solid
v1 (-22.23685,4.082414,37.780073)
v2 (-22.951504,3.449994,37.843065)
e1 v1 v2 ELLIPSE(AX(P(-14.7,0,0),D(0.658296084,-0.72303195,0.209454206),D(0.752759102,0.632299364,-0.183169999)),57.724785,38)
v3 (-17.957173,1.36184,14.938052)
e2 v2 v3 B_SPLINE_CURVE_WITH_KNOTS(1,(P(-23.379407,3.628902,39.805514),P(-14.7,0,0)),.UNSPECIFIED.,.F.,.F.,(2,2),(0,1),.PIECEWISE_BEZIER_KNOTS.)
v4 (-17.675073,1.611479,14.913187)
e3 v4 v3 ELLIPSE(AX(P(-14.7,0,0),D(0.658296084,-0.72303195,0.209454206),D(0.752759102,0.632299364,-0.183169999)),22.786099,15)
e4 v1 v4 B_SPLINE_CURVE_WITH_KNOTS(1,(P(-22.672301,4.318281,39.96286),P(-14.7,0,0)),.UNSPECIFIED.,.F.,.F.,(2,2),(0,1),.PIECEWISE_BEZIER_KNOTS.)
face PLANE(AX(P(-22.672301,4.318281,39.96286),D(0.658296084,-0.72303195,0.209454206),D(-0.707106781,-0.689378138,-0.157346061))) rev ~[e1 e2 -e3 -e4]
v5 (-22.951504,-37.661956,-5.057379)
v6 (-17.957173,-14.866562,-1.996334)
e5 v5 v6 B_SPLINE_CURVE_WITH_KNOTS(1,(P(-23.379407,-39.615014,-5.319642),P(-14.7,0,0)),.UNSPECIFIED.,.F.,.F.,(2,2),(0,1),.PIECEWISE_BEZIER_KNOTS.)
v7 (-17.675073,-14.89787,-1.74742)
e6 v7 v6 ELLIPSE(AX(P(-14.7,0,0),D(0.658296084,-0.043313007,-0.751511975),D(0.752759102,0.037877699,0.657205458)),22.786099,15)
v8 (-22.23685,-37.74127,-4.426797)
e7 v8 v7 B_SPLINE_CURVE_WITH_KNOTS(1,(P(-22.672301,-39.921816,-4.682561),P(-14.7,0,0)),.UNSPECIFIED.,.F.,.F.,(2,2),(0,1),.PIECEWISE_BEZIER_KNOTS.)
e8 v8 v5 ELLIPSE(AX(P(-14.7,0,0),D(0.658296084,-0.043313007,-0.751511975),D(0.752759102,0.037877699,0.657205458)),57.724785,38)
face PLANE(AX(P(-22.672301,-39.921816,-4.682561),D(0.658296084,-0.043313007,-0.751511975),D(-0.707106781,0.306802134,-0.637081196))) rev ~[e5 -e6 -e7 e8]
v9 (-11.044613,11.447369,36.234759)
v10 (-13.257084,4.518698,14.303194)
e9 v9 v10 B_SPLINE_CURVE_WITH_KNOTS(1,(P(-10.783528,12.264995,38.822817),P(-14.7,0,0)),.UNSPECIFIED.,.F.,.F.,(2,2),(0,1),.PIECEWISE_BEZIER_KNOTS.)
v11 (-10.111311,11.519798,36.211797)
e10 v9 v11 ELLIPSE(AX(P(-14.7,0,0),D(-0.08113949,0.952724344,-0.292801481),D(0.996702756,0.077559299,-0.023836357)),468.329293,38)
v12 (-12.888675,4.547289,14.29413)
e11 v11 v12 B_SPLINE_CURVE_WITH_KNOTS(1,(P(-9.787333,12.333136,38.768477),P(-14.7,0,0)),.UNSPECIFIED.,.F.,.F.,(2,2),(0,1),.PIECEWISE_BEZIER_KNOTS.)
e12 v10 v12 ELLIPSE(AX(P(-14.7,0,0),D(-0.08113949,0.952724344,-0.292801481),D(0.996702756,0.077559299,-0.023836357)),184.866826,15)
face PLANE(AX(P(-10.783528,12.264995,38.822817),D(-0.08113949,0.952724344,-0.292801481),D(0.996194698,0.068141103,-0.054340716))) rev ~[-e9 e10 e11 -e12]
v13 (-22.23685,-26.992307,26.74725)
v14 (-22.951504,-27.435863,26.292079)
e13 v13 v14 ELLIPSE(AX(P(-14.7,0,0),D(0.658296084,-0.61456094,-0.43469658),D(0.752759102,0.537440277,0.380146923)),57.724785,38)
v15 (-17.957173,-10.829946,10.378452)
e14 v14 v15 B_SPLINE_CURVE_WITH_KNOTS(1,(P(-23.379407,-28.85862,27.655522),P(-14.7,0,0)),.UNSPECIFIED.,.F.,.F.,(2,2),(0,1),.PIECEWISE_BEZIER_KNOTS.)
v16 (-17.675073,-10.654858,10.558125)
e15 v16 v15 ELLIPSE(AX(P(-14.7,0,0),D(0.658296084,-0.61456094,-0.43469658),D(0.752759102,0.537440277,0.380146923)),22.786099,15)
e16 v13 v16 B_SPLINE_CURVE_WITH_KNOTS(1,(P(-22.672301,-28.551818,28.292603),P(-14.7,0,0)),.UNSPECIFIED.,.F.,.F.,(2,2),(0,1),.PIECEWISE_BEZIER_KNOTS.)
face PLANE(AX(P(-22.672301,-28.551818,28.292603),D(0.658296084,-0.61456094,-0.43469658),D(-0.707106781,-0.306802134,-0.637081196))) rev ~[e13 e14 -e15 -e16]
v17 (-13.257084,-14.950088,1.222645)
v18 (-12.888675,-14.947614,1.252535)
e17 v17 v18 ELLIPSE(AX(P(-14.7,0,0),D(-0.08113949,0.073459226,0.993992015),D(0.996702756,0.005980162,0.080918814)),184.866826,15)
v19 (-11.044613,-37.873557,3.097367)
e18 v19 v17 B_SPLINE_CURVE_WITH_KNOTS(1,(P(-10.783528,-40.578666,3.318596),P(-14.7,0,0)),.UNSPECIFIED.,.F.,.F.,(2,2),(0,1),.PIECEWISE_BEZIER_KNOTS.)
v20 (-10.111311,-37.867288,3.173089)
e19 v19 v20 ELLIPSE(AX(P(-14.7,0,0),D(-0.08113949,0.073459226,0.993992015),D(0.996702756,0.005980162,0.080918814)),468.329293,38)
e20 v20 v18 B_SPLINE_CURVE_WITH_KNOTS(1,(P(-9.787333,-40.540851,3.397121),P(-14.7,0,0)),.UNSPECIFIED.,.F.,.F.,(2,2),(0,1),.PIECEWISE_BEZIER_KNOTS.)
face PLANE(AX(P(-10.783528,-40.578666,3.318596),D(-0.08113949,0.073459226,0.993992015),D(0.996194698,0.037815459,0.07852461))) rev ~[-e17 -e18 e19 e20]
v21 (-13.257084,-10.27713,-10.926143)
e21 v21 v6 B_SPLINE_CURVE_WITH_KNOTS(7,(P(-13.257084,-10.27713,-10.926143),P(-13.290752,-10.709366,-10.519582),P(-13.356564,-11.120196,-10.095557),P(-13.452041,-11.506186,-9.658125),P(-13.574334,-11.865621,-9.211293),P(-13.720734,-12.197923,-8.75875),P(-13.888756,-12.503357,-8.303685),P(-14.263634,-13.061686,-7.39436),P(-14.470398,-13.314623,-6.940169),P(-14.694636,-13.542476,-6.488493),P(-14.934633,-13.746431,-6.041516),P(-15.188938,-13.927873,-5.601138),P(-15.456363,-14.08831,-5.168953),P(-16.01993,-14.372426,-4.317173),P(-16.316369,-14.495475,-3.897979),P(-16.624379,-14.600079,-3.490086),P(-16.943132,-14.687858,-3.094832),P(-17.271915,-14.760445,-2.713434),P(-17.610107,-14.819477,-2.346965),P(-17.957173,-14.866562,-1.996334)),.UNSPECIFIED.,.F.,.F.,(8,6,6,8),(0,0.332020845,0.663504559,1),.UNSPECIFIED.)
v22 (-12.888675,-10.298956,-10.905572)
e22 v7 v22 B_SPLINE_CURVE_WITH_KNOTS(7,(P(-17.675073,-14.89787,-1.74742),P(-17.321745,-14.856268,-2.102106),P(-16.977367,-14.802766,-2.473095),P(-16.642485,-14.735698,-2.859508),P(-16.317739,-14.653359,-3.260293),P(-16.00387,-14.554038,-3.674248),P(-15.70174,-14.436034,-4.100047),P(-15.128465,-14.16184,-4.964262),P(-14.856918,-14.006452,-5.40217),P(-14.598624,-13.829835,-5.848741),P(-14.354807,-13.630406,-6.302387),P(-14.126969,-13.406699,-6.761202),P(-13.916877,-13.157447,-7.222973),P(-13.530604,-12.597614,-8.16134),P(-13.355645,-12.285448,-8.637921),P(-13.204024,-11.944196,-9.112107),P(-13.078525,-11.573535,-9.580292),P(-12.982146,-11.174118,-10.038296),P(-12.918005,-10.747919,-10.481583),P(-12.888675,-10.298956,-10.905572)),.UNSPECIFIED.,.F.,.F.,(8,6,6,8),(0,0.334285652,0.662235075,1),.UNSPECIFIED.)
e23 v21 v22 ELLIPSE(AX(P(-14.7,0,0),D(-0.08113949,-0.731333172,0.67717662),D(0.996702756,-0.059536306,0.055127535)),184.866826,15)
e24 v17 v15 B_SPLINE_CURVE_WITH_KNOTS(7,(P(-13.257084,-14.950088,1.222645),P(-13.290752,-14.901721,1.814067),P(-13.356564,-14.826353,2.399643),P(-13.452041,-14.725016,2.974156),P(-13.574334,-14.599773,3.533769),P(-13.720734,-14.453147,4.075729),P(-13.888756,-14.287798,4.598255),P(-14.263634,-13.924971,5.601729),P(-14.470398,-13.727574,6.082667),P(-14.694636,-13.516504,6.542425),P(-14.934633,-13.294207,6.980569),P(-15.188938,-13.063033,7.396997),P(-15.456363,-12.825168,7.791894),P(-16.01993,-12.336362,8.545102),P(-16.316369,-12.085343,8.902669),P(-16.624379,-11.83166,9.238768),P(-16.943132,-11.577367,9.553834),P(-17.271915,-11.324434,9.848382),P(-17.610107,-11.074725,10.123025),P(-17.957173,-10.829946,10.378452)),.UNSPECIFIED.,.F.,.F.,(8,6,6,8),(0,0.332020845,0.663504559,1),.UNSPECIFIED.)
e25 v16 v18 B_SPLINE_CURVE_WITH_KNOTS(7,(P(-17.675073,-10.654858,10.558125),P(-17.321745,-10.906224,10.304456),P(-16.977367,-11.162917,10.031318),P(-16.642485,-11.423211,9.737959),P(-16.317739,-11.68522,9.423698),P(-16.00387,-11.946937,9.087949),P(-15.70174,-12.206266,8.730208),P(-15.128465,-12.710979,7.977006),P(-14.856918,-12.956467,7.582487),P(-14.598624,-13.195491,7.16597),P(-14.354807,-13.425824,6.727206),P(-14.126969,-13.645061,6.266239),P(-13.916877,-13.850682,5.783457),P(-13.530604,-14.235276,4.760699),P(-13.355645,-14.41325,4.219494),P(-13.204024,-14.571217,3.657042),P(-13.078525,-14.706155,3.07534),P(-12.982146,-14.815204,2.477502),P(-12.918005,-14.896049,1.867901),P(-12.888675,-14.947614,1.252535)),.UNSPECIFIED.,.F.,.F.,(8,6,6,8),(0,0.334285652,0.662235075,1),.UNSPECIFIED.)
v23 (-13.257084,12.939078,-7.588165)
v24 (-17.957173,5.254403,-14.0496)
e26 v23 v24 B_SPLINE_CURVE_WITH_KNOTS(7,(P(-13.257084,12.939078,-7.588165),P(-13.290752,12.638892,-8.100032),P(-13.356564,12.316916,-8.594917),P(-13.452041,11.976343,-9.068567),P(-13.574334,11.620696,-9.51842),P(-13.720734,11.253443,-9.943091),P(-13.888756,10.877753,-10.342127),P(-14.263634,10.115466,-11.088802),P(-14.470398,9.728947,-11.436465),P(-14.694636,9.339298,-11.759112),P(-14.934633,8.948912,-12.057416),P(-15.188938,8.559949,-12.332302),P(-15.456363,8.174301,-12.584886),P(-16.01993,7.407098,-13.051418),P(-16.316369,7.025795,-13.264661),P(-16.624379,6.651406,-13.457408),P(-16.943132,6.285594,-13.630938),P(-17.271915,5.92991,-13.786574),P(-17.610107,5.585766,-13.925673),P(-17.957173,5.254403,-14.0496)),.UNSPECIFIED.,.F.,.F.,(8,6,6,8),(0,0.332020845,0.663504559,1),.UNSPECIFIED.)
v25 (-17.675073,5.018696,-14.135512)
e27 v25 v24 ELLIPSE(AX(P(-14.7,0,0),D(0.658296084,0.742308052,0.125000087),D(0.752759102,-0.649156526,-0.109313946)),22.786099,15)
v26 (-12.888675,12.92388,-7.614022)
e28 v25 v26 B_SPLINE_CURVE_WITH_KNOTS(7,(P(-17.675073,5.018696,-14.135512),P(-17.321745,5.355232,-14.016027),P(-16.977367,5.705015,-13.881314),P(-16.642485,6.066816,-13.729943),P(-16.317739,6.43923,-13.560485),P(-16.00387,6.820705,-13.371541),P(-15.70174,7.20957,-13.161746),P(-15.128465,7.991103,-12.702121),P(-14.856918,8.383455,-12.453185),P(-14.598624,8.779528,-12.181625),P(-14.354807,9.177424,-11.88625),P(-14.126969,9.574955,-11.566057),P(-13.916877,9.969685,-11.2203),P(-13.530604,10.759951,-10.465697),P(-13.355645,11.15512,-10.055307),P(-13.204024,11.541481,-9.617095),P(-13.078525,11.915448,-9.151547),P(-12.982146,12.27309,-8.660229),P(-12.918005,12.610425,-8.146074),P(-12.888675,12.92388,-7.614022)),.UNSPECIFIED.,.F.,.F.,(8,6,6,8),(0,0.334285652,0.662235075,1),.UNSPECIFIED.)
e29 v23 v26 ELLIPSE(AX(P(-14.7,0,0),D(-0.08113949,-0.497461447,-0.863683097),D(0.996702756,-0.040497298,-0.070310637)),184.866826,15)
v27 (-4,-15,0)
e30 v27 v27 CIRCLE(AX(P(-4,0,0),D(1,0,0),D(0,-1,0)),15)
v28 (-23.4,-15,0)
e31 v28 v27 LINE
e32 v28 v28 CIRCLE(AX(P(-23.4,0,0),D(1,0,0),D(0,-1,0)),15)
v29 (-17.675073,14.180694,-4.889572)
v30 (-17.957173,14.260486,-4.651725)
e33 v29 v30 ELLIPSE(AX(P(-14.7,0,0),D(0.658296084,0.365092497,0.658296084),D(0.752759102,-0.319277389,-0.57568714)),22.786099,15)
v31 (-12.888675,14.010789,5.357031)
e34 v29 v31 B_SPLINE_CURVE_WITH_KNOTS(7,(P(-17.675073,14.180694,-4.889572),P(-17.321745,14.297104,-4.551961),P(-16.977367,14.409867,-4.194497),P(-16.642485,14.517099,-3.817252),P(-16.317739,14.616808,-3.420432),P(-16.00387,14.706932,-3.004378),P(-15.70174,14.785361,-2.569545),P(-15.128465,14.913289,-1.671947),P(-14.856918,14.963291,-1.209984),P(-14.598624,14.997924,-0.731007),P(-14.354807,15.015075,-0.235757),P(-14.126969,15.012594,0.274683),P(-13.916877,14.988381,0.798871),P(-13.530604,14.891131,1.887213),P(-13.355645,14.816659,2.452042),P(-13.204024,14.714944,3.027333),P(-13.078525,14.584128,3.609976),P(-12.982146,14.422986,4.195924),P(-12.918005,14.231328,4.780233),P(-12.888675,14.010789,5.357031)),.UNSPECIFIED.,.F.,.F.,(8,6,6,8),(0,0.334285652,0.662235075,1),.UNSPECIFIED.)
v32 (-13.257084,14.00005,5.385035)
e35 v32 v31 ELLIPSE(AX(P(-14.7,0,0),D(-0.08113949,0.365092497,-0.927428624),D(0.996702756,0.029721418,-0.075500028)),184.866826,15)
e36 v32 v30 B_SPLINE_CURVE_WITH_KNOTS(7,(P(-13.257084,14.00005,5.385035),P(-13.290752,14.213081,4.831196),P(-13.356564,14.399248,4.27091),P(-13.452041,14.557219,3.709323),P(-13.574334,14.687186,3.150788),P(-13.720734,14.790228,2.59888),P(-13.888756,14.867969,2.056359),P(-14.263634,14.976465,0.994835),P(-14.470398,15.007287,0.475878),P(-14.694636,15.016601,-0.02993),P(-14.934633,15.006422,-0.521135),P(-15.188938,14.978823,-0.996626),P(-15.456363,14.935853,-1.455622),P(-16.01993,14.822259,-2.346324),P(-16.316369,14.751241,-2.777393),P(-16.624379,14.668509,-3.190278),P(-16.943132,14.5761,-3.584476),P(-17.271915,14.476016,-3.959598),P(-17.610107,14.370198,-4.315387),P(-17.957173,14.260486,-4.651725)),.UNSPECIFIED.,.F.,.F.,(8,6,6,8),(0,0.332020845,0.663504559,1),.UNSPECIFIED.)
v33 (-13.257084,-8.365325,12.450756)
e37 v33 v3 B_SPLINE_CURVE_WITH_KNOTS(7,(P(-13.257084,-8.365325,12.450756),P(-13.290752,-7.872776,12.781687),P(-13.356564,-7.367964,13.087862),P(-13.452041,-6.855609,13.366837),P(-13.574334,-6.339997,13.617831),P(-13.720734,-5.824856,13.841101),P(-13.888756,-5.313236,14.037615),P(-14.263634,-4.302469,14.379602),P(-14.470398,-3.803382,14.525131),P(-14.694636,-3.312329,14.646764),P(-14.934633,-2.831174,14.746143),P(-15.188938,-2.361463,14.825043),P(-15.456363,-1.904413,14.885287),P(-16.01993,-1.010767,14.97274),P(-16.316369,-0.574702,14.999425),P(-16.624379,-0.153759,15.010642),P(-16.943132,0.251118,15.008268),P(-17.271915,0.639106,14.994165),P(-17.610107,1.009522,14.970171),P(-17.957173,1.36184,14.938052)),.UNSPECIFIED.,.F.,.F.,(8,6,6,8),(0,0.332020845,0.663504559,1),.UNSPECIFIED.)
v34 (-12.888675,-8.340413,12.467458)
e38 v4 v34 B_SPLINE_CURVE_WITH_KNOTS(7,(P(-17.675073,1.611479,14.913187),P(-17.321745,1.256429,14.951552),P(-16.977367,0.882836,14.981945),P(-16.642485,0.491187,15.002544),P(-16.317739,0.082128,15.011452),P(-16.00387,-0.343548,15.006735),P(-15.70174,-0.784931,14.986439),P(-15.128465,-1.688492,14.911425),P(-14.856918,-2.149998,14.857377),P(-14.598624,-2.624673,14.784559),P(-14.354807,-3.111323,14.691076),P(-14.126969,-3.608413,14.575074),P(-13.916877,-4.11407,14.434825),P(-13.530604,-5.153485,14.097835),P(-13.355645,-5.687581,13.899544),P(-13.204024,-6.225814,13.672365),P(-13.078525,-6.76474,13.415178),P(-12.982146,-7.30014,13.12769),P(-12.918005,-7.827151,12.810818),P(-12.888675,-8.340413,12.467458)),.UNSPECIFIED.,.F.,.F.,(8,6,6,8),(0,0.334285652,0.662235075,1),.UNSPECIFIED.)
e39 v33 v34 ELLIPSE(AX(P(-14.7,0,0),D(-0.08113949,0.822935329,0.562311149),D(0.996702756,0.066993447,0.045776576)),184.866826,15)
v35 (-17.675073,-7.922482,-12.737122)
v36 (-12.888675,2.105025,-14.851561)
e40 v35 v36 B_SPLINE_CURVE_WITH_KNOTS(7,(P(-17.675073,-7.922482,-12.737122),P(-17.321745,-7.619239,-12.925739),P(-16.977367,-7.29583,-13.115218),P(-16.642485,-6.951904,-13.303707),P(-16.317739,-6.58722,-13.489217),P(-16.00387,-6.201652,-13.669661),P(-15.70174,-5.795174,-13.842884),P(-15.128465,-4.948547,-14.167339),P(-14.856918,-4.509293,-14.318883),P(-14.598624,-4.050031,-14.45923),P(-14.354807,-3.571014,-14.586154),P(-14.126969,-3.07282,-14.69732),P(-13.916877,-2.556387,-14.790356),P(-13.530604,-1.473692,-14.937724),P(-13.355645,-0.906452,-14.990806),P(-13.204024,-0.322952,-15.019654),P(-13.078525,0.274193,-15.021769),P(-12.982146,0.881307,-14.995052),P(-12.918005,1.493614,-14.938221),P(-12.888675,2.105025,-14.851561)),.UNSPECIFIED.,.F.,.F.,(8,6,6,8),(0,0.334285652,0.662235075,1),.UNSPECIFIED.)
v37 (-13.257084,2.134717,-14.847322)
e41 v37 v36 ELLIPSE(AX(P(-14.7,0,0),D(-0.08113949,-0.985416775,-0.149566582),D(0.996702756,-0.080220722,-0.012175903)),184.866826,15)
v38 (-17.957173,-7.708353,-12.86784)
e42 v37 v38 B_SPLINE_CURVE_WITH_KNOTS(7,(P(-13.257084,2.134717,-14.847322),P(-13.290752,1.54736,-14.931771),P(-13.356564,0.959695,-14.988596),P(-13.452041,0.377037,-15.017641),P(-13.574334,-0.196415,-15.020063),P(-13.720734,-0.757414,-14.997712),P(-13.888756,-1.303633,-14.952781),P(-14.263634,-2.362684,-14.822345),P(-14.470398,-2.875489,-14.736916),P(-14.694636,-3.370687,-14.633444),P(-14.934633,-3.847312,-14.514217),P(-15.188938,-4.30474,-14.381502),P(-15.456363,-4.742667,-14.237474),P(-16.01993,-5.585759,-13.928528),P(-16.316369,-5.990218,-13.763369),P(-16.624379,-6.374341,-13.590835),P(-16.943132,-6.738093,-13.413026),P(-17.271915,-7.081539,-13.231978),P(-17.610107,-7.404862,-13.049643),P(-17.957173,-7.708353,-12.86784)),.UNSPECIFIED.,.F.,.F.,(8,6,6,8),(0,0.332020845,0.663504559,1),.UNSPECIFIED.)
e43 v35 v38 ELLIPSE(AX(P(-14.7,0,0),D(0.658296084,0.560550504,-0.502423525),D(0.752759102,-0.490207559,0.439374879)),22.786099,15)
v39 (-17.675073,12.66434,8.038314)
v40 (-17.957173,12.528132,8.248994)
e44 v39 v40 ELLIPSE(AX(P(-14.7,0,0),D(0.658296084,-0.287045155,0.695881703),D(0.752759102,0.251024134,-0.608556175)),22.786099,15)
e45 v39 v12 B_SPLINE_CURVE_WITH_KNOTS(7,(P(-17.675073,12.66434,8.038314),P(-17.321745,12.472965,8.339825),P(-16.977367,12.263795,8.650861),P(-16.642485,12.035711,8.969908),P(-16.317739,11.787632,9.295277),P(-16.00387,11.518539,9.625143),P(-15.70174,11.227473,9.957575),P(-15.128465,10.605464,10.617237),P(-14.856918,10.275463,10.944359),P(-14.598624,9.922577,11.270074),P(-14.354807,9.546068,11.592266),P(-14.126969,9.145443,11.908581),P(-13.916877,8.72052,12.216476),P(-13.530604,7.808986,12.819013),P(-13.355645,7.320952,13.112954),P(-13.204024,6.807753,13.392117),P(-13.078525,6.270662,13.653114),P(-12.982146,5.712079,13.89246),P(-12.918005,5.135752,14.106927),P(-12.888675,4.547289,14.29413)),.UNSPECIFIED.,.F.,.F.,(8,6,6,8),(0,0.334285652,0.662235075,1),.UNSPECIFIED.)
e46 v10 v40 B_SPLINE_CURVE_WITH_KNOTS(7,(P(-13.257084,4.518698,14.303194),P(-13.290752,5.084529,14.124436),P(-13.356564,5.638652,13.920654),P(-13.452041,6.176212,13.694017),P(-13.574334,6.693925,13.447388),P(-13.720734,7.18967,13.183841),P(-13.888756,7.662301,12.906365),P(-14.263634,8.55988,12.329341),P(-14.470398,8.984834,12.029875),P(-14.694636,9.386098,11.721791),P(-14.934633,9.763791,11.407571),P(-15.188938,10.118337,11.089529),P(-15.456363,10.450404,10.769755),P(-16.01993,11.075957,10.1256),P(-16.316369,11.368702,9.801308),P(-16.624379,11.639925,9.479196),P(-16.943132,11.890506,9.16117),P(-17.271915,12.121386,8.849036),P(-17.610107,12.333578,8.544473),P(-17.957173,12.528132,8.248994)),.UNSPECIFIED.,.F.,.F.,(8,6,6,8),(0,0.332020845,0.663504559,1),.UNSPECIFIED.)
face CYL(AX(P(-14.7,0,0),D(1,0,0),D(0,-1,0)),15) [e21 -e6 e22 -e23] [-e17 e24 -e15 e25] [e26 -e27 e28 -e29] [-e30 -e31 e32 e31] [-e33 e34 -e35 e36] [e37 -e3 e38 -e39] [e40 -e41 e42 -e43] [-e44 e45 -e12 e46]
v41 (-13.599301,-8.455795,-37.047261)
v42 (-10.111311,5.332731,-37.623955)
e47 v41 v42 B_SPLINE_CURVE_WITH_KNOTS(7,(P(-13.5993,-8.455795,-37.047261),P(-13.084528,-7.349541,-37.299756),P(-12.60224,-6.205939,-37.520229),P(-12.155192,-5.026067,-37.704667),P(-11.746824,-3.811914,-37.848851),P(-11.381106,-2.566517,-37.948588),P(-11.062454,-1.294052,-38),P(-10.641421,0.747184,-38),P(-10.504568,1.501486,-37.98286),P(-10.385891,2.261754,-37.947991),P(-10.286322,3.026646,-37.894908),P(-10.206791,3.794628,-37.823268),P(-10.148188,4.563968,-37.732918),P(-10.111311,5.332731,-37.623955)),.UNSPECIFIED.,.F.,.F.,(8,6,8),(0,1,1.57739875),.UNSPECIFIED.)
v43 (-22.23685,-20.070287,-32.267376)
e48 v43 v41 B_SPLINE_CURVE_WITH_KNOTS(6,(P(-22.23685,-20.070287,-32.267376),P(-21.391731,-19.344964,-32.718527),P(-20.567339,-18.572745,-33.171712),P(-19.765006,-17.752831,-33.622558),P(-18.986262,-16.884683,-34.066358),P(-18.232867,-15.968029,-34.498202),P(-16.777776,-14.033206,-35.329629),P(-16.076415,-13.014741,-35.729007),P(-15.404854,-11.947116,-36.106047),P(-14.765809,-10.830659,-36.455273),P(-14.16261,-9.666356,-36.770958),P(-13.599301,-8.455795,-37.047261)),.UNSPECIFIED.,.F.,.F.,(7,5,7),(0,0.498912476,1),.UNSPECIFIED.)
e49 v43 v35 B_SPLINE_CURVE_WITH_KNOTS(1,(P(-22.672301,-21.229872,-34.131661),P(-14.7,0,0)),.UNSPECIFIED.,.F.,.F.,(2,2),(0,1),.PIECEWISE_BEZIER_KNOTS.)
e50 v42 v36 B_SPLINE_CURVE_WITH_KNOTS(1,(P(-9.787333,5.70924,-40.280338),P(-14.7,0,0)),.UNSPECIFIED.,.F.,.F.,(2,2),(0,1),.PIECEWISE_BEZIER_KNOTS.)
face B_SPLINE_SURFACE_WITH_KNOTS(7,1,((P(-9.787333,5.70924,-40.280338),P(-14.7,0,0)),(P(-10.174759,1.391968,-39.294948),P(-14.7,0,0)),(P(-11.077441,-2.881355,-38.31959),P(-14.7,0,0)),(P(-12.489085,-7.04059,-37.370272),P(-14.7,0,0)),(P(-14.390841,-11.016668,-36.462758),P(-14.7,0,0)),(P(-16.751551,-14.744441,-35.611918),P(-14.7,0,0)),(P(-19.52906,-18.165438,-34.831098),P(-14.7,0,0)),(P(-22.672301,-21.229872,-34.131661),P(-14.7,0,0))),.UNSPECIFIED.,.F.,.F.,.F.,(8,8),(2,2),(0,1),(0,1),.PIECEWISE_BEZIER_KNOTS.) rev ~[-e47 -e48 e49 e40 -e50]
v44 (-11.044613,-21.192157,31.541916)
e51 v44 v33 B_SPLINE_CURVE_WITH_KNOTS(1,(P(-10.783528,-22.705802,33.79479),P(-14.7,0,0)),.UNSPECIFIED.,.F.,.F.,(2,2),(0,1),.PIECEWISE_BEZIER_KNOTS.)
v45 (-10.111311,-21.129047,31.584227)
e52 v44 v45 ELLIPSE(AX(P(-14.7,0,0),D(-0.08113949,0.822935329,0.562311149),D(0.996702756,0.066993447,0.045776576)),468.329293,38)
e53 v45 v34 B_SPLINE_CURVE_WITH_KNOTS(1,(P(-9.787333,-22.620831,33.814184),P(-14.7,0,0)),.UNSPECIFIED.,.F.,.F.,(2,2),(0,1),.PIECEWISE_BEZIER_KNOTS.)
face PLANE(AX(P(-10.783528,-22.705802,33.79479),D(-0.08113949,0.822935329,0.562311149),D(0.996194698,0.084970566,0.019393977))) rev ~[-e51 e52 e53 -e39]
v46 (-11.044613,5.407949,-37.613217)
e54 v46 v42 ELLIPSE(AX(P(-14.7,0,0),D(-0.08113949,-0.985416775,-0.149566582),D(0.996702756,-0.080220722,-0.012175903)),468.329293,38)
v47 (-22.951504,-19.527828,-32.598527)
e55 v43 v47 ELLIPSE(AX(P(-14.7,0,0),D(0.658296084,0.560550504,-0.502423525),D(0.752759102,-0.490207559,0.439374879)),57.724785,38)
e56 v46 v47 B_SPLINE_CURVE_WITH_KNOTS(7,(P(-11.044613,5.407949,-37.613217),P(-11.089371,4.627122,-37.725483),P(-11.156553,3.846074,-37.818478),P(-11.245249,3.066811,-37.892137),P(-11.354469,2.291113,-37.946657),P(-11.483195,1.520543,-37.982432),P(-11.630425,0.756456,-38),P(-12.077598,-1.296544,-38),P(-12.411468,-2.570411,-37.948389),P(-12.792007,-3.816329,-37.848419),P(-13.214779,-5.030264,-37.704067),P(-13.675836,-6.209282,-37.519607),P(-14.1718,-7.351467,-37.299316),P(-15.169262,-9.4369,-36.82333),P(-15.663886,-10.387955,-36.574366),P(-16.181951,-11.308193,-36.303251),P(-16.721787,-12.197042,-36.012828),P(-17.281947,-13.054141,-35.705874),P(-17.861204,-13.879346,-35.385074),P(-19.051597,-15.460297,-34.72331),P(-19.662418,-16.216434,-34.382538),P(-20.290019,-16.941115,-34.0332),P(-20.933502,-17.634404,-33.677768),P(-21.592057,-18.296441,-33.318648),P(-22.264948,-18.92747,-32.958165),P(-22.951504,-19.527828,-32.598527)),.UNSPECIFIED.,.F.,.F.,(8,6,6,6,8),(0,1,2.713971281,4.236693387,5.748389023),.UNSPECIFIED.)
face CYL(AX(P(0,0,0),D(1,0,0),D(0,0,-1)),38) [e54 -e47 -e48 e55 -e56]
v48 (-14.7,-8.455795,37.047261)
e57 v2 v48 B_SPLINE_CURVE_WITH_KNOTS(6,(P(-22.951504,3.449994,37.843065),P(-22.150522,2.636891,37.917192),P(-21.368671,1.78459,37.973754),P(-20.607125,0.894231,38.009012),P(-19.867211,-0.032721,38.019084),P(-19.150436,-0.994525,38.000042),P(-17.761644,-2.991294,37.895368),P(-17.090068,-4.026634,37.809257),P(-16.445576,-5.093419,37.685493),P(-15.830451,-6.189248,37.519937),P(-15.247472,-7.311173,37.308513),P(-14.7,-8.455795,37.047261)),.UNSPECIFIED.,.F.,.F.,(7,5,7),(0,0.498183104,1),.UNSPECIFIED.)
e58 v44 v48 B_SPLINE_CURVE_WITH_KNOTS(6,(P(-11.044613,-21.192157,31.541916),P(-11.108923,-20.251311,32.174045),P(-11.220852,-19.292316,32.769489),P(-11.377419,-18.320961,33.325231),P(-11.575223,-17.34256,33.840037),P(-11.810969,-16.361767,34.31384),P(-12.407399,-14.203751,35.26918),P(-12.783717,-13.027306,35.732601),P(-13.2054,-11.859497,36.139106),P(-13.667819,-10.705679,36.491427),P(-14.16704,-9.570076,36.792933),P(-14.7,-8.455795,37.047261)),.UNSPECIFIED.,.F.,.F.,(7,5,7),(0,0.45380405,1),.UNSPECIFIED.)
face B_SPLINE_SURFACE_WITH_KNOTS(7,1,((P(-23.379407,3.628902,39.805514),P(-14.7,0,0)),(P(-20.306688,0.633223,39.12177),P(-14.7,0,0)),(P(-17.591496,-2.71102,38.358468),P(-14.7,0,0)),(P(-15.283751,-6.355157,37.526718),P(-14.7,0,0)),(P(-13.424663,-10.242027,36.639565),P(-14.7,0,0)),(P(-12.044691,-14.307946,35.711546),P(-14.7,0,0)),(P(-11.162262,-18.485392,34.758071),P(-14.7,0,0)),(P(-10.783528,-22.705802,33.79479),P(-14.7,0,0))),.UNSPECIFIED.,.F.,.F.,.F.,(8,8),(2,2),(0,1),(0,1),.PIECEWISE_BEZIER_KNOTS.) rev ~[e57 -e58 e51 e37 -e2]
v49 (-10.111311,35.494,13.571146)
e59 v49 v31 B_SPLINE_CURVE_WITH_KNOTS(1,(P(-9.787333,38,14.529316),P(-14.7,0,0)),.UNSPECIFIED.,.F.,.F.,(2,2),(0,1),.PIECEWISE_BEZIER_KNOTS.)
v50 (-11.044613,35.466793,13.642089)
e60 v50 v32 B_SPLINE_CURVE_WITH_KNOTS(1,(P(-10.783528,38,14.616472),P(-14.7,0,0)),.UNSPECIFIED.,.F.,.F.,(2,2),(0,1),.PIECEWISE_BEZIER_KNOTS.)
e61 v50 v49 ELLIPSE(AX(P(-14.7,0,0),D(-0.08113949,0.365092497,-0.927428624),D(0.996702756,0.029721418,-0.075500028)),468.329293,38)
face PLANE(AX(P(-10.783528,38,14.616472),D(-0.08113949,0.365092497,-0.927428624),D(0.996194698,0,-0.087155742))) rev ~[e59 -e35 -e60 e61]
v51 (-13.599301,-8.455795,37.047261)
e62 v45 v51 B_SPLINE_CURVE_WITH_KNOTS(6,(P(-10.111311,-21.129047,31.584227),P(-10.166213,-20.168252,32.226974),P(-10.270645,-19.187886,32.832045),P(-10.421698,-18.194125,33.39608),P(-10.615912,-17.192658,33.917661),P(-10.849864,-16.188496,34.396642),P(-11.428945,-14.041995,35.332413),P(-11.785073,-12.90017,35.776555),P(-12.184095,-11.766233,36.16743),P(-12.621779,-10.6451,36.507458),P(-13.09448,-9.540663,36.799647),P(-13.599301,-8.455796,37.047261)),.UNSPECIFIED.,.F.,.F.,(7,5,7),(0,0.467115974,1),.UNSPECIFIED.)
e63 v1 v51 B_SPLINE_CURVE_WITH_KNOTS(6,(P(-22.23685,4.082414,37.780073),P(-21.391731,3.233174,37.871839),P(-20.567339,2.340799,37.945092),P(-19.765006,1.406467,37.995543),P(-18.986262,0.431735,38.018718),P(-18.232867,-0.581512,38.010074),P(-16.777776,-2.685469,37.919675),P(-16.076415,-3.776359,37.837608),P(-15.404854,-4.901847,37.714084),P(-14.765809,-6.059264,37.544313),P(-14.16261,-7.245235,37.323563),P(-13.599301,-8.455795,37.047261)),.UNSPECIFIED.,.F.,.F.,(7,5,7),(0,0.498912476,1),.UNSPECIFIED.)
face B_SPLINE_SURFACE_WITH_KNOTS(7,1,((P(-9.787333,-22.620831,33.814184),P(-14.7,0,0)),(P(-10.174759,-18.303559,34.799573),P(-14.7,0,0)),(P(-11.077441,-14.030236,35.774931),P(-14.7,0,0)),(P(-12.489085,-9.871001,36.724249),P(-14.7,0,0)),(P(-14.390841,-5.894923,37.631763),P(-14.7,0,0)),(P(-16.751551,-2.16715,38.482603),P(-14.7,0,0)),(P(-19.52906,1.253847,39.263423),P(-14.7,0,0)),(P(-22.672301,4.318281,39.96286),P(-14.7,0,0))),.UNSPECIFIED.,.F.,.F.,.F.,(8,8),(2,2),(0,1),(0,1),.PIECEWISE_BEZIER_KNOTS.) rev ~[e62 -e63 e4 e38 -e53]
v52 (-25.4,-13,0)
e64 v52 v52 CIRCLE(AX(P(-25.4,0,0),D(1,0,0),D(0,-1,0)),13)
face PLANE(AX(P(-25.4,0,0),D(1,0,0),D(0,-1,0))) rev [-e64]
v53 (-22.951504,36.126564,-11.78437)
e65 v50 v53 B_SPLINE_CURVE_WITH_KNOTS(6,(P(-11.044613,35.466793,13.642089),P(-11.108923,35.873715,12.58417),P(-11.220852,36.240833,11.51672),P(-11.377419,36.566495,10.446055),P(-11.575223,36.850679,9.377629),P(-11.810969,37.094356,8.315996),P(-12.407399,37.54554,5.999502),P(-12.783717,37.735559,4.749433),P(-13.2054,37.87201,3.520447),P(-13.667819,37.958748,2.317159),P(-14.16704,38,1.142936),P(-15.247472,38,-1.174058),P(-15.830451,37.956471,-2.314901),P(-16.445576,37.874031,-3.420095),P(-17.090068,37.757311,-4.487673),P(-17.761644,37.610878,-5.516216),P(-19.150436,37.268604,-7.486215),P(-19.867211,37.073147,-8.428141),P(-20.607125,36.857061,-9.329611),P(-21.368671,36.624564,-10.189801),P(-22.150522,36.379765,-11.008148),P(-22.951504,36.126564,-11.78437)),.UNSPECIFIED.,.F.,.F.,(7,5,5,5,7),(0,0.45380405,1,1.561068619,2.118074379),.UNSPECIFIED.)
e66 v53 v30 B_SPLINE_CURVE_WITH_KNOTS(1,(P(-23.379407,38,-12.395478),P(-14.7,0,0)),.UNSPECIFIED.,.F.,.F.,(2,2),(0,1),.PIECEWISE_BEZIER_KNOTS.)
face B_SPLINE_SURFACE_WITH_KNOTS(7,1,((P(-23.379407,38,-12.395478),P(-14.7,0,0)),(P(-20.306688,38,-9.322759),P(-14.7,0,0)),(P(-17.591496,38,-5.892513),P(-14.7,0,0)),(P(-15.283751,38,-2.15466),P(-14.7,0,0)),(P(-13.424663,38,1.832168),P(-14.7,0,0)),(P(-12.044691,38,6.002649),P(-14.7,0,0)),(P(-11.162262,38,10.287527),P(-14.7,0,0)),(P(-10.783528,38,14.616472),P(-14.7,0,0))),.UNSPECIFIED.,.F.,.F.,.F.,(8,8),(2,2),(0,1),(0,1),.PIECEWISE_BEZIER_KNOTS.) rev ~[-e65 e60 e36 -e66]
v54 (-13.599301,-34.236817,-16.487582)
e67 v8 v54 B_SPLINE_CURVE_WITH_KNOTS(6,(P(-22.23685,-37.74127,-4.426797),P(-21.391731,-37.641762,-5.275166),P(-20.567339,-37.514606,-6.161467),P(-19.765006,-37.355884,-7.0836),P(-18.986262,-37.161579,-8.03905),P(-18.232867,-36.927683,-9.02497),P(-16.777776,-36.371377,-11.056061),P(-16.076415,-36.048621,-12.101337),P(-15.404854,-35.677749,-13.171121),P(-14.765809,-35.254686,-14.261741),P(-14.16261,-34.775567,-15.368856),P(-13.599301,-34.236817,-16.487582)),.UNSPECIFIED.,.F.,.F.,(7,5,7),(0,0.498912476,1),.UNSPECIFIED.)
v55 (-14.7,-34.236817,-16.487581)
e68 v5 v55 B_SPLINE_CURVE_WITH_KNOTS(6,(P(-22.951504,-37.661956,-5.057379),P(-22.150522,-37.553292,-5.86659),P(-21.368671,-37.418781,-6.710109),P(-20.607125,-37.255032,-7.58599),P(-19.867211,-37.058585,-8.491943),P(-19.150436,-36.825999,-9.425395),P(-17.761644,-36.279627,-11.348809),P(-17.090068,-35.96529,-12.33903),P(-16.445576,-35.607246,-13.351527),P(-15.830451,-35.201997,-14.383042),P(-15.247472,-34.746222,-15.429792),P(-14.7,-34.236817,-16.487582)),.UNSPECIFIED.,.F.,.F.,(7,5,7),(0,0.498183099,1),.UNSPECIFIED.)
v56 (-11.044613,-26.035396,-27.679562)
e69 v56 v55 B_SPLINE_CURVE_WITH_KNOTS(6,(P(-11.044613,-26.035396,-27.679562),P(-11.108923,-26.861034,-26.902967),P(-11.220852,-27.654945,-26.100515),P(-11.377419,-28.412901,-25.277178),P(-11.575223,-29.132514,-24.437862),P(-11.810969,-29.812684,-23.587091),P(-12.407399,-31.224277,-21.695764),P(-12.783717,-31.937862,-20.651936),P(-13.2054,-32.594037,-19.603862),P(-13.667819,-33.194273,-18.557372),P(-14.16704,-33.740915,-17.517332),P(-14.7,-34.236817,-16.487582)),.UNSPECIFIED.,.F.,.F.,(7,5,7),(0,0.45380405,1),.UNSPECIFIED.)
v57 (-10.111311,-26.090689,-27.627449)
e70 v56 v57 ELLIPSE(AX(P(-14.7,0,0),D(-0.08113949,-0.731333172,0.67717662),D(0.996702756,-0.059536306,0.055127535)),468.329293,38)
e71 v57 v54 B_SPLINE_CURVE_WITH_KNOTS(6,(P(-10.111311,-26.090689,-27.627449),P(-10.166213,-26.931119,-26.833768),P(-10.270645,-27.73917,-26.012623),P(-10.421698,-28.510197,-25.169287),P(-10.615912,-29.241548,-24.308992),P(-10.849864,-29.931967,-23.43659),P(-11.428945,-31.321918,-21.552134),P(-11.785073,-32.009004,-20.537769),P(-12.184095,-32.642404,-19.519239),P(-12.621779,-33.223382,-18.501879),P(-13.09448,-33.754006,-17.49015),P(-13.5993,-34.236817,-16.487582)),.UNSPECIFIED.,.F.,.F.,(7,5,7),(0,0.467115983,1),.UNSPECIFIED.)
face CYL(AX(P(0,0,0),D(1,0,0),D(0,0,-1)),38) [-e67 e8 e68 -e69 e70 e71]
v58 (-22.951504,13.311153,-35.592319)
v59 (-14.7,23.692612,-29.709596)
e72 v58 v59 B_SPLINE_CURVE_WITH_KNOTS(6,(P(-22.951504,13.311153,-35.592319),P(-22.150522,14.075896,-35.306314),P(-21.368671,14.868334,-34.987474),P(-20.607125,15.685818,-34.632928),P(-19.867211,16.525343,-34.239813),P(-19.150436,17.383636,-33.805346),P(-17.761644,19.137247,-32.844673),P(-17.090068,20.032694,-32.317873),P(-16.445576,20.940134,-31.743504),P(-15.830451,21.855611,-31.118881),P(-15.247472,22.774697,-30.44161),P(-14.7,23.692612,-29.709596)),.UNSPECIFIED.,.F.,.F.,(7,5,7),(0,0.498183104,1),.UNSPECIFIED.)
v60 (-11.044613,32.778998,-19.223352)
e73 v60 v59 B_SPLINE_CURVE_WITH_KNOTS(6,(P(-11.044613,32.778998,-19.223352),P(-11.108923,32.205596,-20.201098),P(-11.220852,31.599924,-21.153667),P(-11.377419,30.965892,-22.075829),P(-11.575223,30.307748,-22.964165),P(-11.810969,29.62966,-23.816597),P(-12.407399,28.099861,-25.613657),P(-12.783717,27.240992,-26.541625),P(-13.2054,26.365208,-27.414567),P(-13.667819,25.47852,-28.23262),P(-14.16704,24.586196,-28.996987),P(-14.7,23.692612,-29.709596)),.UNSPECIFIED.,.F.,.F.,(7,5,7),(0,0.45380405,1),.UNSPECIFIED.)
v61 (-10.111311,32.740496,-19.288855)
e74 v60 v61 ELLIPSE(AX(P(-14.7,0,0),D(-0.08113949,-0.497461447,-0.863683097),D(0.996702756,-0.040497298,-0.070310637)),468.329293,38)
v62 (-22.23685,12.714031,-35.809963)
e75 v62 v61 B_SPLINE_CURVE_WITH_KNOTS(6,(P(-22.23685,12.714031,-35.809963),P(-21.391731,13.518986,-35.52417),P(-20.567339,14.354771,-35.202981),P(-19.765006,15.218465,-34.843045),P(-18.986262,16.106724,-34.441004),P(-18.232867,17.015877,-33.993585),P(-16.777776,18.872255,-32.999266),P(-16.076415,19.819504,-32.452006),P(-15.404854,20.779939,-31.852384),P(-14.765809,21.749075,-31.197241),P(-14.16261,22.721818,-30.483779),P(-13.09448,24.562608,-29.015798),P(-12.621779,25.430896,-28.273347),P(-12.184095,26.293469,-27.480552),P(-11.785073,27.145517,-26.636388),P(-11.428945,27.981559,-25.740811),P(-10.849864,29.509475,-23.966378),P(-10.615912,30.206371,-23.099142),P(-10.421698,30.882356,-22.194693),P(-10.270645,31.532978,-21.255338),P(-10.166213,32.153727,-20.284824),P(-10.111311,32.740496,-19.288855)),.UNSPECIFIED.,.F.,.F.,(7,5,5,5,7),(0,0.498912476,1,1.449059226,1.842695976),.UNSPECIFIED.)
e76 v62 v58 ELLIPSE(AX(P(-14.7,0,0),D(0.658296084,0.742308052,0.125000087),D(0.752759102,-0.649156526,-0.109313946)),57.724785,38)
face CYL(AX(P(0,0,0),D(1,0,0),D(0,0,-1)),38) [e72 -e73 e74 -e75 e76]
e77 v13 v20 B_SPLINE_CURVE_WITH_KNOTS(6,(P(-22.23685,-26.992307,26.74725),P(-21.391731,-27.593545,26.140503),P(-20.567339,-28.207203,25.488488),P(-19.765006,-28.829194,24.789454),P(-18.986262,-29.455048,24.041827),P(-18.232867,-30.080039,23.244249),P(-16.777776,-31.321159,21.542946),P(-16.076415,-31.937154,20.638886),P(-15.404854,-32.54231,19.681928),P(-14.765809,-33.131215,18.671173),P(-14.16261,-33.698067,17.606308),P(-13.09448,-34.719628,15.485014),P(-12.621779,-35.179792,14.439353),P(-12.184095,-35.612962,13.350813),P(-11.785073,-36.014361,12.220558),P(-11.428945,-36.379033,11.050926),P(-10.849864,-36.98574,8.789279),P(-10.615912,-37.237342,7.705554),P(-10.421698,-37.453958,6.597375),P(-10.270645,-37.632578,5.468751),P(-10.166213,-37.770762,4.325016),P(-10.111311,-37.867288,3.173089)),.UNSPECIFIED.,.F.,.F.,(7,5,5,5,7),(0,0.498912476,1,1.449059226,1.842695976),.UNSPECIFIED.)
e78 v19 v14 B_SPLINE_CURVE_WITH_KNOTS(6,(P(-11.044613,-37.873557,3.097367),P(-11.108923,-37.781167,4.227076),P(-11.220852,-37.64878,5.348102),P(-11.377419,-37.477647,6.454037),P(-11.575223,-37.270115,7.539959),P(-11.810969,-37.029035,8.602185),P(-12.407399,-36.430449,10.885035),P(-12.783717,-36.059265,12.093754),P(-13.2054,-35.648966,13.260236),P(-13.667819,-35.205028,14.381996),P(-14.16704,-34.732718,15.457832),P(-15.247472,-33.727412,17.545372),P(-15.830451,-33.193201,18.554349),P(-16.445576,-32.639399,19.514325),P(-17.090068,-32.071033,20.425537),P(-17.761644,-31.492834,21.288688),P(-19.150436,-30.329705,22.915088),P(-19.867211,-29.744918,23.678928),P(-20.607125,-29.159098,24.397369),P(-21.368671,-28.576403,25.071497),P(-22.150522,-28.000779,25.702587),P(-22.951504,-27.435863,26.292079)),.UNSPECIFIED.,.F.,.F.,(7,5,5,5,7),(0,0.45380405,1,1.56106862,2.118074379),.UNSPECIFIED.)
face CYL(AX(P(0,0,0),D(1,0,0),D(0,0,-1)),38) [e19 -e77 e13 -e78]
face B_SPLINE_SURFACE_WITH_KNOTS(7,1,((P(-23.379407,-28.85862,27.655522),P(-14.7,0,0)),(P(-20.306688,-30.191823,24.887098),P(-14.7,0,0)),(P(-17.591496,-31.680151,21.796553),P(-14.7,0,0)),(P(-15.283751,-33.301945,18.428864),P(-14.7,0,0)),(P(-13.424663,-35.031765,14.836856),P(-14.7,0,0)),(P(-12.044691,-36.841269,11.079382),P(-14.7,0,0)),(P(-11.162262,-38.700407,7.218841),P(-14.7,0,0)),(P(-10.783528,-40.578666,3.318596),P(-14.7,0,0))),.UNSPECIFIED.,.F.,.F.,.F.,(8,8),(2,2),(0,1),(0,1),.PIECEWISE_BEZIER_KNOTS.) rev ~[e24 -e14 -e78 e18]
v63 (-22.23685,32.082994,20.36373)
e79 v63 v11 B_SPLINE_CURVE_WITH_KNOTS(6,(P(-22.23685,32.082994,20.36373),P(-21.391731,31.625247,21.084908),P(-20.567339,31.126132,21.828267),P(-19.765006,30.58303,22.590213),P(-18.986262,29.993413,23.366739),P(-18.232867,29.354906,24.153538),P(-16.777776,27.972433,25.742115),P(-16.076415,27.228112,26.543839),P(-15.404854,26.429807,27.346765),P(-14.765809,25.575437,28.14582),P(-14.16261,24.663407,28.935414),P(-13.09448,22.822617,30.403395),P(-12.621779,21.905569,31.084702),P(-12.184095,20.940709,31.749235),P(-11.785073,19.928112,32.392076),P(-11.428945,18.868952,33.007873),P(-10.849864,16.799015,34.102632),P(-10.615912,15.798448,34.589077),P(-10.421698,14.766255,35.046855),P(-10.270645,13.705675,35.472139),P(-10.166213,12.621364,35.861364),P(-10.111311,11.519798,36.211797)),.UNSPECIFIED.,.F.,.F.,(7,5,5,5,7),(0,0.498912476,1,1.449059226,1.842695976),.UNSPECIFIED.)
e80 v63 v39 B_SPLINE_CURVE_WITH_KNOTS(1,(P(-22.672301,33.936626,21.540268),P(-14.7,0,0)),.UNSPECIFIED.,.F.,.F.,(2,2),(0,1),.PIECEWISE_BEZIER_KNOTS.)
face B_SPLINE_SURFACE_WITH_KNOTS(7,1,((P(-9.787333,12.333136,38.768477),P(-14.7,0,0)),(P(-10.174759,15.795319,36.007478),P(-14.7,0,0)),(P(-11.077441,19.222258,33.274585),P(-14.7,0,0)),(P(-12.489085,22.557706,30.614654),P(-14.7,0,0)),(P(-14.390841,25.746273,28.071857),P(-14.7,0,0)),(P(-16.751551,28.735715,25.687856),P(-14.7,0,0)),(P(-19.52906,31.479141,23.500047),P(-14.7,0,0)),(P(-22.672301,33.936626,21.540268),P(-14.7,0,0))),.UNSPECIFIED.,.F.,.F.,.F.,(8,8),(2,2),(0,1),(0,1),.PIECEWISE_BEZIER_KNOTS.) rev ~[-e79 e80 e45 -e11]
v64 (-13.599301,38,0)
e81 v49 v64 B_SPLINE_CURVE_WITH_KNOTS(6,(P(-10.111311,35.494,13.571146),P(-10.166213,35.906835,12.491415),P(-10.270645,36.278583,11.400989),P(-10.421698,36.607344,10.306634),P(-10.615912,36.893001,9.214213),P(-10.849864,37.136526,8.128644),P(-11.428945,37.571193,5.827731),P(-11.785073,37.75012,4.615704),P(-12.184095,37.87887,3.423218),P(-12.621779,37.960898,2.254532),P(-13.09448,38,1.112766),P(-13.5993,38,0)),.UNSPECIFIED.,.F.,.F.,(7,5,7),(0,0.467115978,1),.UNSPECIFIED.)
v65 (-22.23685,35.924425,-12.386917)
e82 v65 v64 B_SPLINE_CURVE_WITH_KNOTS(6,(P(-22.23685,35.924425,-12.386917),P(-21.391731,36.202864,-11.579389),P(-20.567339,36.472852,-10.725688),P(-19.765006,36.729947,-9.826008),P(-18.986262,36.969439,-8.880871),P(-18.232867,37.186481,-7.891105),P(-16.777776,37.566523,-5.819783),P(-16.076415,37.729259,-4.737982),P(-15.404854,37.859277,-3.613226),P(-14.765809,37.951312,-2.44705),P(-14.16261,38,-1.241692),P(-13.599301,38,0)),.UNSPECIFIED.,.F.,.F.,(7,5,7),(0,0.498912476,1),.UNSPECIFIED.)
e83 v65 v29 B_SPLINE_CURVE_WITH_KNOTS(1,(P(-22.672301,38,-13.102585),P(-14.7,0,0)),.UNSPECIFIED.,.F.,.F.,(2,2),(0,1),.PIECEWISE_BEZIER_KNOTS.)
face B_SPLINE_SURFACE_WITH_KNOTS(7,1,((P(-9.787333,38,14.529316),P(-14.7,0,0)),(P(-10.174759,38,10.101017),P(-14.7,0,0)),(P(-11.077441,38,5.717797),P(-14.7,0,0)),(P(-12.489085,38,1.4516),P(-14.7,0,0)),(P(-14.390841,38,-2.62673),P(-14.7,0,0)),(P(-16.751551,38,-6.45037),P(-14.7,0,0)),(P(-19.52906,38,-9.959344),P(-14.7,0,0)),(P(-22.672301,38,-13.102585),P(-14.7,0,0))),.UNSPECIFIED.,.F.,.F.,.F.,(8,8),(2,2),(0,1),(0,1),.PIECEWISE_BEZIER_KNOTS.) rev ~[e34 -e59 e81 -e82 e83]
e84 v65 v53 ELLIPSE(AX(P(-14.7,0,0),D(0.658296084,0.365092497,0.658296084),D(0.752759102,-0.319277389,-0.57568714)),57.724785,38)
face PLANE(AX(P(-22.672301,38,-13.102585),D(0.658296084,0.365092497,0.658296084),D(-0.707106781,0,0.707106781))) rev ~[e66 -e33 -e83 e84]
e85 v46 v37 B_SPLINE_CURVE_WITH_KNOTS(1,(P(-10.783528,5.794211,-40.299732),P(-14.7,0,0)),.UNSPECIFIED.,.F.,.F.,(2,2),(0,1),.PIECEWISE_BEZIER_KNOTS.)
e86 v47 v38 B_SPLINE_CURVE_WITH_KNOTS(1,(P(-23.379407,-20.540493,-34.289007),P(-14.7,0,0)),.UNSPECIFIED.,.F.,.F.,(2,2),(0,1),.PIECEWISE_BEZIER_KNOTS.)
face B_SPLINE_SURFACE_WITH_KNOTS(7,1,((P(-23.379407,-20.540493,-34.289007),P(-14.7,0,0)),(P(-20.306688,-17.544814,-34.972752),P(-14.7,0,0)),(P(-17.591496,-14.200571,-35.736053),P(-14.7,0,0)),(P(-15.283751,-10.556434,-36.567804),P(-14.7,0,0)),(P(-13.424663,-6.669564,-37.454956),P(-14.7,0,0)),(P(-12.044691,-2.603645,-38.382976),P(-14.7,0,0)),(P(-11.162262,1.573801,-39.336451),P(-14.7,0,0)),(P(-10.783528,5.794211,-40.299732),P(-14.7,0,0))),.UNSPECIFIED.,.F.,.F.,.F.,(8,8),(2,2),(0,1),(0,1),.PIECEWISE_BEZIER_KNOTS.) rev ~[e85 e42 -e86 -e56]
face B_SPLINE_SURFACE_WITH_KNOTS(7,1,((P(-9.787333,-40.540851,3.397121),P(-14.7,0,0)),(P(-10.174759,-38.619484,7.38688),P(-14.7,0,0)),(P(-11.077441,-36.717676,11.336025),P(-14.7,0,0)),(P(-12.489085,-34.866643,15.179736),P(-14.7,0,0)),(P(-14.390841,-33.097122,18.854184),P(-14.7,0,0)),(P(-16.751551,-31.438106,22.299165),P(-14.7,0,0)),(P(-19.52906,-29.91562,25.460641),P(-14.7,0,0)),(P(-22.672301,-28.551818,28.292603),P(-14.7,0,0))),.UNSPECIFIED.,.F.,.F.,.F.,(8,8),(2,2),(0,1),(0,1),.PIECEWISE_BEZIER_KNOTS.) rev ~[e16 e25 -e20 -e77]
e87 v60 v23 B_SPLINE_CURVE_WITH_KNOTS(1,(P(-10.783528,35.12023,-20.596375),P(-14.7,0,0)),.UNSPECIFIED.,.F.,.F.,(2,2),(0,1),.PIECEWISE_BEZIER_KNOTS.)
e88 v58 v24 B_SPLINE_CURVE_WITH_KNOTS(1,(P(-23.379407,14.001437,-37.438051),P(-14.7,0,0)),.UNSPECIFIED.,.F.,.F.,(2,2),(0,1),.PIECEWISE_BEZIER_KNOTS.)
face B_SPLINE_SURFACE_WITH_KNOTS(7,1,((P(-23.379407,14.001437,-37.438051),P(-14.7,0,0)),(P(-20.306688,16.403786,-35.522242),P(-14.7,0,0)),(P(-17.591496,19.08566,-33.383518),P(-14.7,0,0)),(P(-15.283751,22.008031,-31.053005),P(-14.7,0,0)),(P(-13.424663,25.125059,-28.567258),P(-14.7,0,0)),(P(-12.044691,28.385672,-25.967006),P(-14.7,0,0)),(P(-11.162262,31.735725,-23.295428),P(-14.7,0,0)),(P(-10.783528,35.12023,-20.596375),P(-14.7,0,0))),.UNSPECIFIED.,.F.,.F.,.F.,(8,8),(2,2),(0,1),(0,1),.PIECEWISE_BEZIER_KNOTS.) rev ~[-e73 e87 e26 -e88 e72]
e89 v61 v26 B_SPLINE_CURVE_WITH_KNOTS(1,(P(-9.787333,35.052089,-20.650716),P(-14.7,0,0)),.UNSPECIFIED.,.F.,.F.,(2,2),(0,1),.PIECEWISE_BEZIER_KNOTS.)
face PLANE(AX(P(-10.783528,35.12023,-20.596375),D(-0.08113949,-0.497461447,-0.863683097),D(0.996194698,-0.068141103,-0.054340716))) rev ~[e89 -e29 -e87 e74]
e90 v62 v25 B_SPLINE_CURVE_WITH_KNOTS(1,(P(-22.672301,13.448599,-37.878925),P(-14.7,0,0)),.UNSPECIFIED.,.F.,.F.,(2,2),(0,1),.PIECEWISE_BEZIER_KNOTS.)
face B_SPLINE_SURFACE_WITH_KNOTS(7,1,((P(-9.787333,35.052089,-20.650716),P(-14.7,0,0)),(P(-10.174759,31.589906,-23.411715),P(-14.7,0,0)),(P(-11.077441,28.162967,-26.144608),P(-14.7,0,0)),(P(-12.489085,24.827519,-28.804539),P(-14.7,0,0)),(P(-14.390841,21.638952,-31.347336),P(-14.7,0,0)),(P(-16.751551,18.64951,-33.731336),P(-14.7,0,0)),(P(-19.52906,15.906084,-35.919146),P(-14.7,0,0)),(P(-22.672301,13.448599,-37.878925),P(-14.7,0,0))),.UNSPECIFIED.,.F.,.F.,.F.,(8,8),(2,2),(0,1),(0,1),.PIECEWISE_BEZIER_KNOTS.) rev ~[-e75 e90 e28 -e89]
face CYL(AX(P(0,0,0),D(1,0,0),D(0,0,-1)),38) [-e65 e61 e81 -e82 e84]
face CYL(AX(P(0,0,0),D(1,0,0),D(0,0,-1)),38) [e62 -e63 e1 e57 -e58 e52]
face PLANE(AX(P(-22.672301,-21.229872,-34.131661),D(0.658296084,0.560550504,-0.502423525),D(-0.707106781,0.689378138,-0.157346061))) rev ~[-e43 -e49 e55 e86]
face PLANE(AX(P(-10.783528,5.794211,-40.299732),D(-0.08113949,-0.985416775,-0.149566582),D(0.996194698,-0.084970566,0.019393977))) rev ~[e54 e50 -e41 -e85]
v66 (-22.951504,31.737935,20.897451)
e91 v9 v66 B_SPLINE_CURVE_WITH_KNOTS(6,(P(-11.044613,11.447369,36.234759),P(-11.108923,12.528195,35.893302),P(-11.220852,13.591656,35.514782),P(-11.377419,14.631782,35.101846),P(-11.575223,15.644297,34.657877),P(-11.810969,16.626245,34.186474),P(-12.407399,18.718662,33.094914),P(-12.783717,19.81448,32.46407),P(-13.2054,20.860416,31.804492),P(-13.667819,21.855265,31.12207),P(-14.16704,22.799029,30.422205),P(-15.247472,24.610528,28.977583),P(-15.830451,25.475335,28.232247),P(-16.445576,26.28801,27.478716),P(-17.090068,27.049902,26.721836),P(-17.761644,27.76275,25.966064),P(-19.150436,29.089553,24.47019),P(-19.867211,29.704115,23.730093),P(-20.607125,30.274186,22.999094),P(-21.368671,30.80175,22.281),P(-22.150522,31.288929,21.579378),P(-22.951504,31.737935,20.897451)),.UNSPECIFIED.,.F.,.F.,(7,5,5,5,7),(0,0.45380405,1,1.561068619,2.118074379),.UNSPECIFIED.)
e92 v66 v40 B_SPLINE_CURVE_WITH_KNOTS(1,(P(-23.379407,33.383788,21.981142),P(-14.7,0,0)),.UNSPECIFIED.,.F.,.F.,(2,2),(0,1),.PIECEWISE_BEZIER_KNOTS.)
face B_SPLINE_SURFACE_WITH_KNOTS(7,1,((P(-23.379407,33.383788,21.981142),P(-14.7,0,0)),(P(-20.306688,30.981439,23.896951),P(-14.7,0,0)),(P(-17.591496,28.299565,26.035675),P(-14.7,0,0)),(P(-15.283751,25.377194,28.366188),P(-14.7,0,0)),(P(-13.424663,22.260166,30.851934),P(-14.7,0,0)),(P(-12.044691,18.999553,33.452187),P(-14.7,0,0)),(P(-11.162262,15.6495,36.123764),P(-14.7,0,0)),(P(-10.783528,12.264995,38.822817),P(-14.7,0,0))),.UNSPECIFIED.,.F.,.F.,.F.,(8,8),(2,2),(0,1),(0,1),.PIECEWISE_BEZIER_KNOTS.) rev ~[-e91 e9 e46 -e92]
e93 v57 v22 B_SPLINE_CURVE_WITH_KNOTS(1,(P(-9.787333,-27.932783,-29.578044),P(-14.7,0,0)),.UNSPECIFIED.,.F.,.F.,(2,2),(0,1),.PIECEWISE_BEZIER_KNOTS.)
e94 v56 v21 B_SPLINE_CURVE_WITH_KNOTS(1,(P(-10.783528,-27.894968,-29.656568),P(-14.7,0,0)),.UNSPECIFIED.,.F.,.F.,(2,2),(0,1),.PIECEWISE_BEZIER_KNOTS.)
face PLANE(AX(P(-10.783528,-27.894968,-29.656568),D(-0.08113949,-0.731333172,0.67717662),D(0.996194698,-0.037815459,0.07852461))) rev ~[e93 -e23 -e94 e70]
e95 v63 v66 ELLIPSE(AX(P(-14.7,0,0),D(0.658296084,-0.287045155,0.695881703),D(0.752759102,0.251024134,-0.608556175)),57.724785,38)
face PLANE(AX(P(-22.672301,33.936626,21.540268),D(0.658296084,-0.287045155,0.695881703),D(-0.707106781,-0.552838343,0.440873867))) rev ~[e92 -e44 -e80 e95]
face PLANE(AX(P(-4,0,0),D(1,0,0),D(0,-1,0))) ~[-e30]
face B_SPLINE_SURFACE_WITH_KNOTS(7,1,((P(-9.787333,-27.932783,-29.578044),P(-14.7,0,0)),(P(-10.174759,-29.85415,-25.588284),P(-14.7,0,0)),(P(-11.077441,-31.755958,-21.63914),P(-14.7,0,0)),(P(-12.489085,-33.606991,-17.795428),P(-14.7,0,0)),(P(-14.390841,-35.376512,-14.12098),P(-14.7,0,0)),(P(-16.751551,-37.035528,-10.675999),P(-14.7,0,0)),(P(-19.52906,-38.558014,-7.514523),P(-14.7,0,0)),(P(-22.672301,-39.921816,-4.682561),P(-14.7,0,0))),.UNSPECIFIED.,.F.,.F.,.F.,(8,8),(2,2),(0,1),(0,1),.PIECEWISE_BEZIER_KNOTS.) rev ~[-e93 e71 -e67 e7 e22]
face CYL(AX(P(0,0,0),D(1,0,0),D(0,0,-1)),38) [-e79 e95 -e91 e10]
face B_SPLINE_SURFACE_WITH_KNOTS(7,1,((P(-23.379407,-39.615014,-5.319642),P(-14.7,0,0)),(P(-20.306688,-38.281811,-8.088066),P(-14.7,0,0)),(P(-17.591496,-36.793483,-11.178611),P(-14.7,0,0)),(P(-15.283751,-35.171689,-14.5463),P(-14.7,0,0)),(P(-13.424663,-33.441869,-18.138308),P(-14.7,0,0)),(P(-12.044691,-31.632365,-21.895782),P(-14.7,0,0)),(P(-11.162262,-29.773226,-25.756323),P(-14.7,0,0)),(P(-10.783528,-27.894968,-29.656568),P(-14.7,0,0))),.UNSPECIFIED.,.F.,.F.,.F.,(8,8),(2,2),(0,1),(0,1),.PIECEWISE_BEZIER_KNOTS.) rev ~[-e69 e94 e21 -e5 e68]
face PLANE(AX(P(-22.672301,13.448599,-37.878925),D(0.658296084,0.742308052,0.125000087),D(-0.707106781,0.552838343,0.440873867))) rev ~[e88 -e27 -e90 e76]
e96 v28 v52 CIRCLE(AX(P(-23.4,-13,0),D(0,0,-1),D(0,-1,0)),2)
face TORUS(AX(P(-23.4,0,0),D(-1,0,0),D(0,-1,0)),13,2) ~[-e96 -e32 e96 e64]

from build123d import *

# Parameters (mm, degrees)
SKETCH5_W                  = 21.4
SKETCH5_H                  = 15
CIRPATTERN1_COUNT          = 7
SKETCH_CUT_BLADE_OUTSIDE_W = 105.131
SKETCH_CUT_BLADE_OUTSIDE_H = 103.447
SKETCH_CUT_BLADE_OUTSIDE_R = 38
CUT_FAN_BLADE_DEPTH        = 63.576805281
COSMETIC_FILLET_R          = 2


with BuildPart() as part:
    # Sketch5 → Body (revolve)
    with BuildSketch(Plane.XY, mode=Mode.PRIVATE) as body_sk:
        with Locations((-14.7, 7.5)):
            Rectangle(SKETCH5_W, SKETCH5_H)
    revolve(body_sk.sketch.rotate(Axis((-25.4, 0, 0), (1, 0, 0)), 180), axis=Axis((-25.4, 0, 0), (1, 0, 0)))

    # Sketch-Blade-Top → Loft-Fan-Blade section 0
    with BuildSketch(Plane(origin=(0, 38, 0), x_dir=(-1, 0, 0), z_dir=(0, 1, 0)), mode=Mode.PRIVATE) as loft_fan_blade_s0:
        with BuildLine():
            Line((10.78352818, 14.61647182), (9.787333481, 14.529316078))
            ThreePointArc((9.787333481, 14.529316078), (13.793692213, -0.422618262), (22.672300675, -13.102585239))
            Line((22.672300675, -13.102585239), (23.379407456, -12.395478458))
            ThreePointArc((23.379407456, -12.395478458), (14.7, 0), (10.78352818, 14.61647182))
        make_face()
    loft_fan_blade = loft([loft_fan_blade_s0.sketch, Vertex(-14.7, 0, 0)])

    # CirPattern1: Loft-Fan-Blade ×7 about axis
    cirpattern1_axis = Axis((-25.4, 0, 0), (1, 0, 0))
    for i in range(1, CIRPATTERN1_COUNT):
        add(loft_fan_blade.rotate(cirpattern1_axis, i * 360 / CIRPATTERN1_COUNT))

    # Sketch-Cut-Blade outside → Cut-Fan-Blade (cut, through all)
    with BuildSketch(Plane(origin=(0, 0, 0), x_dir=(0, 0, -1), z_dir=(1, 0, 0))):
        with Locations((0.1685, -1.2895)):
            Rectangle(SKETCH_CUT_BLADE_OUTSIDE_W, SKETCH_CUT_BLADE_OUTSIDE_H)
        Circle(SKETCH_CUT_BLADE_OUTSIDE_R, mode=Mode.SUBTRACT)
    extrude(amount=-CUT_FAN_BLADE_DEPTH, mode=Mode.SUBTRACT)

    # Cosmetic-Fillet
    cosmetic_fillet_edges = [part.edges().sort_by_distance(p)[0] for p in [
        (-25.4, 15, 0),
    ]]
    fillet(cosmetic_fillet_edges, radius=COSMETIC_FILLET_R)


solid = part.part
